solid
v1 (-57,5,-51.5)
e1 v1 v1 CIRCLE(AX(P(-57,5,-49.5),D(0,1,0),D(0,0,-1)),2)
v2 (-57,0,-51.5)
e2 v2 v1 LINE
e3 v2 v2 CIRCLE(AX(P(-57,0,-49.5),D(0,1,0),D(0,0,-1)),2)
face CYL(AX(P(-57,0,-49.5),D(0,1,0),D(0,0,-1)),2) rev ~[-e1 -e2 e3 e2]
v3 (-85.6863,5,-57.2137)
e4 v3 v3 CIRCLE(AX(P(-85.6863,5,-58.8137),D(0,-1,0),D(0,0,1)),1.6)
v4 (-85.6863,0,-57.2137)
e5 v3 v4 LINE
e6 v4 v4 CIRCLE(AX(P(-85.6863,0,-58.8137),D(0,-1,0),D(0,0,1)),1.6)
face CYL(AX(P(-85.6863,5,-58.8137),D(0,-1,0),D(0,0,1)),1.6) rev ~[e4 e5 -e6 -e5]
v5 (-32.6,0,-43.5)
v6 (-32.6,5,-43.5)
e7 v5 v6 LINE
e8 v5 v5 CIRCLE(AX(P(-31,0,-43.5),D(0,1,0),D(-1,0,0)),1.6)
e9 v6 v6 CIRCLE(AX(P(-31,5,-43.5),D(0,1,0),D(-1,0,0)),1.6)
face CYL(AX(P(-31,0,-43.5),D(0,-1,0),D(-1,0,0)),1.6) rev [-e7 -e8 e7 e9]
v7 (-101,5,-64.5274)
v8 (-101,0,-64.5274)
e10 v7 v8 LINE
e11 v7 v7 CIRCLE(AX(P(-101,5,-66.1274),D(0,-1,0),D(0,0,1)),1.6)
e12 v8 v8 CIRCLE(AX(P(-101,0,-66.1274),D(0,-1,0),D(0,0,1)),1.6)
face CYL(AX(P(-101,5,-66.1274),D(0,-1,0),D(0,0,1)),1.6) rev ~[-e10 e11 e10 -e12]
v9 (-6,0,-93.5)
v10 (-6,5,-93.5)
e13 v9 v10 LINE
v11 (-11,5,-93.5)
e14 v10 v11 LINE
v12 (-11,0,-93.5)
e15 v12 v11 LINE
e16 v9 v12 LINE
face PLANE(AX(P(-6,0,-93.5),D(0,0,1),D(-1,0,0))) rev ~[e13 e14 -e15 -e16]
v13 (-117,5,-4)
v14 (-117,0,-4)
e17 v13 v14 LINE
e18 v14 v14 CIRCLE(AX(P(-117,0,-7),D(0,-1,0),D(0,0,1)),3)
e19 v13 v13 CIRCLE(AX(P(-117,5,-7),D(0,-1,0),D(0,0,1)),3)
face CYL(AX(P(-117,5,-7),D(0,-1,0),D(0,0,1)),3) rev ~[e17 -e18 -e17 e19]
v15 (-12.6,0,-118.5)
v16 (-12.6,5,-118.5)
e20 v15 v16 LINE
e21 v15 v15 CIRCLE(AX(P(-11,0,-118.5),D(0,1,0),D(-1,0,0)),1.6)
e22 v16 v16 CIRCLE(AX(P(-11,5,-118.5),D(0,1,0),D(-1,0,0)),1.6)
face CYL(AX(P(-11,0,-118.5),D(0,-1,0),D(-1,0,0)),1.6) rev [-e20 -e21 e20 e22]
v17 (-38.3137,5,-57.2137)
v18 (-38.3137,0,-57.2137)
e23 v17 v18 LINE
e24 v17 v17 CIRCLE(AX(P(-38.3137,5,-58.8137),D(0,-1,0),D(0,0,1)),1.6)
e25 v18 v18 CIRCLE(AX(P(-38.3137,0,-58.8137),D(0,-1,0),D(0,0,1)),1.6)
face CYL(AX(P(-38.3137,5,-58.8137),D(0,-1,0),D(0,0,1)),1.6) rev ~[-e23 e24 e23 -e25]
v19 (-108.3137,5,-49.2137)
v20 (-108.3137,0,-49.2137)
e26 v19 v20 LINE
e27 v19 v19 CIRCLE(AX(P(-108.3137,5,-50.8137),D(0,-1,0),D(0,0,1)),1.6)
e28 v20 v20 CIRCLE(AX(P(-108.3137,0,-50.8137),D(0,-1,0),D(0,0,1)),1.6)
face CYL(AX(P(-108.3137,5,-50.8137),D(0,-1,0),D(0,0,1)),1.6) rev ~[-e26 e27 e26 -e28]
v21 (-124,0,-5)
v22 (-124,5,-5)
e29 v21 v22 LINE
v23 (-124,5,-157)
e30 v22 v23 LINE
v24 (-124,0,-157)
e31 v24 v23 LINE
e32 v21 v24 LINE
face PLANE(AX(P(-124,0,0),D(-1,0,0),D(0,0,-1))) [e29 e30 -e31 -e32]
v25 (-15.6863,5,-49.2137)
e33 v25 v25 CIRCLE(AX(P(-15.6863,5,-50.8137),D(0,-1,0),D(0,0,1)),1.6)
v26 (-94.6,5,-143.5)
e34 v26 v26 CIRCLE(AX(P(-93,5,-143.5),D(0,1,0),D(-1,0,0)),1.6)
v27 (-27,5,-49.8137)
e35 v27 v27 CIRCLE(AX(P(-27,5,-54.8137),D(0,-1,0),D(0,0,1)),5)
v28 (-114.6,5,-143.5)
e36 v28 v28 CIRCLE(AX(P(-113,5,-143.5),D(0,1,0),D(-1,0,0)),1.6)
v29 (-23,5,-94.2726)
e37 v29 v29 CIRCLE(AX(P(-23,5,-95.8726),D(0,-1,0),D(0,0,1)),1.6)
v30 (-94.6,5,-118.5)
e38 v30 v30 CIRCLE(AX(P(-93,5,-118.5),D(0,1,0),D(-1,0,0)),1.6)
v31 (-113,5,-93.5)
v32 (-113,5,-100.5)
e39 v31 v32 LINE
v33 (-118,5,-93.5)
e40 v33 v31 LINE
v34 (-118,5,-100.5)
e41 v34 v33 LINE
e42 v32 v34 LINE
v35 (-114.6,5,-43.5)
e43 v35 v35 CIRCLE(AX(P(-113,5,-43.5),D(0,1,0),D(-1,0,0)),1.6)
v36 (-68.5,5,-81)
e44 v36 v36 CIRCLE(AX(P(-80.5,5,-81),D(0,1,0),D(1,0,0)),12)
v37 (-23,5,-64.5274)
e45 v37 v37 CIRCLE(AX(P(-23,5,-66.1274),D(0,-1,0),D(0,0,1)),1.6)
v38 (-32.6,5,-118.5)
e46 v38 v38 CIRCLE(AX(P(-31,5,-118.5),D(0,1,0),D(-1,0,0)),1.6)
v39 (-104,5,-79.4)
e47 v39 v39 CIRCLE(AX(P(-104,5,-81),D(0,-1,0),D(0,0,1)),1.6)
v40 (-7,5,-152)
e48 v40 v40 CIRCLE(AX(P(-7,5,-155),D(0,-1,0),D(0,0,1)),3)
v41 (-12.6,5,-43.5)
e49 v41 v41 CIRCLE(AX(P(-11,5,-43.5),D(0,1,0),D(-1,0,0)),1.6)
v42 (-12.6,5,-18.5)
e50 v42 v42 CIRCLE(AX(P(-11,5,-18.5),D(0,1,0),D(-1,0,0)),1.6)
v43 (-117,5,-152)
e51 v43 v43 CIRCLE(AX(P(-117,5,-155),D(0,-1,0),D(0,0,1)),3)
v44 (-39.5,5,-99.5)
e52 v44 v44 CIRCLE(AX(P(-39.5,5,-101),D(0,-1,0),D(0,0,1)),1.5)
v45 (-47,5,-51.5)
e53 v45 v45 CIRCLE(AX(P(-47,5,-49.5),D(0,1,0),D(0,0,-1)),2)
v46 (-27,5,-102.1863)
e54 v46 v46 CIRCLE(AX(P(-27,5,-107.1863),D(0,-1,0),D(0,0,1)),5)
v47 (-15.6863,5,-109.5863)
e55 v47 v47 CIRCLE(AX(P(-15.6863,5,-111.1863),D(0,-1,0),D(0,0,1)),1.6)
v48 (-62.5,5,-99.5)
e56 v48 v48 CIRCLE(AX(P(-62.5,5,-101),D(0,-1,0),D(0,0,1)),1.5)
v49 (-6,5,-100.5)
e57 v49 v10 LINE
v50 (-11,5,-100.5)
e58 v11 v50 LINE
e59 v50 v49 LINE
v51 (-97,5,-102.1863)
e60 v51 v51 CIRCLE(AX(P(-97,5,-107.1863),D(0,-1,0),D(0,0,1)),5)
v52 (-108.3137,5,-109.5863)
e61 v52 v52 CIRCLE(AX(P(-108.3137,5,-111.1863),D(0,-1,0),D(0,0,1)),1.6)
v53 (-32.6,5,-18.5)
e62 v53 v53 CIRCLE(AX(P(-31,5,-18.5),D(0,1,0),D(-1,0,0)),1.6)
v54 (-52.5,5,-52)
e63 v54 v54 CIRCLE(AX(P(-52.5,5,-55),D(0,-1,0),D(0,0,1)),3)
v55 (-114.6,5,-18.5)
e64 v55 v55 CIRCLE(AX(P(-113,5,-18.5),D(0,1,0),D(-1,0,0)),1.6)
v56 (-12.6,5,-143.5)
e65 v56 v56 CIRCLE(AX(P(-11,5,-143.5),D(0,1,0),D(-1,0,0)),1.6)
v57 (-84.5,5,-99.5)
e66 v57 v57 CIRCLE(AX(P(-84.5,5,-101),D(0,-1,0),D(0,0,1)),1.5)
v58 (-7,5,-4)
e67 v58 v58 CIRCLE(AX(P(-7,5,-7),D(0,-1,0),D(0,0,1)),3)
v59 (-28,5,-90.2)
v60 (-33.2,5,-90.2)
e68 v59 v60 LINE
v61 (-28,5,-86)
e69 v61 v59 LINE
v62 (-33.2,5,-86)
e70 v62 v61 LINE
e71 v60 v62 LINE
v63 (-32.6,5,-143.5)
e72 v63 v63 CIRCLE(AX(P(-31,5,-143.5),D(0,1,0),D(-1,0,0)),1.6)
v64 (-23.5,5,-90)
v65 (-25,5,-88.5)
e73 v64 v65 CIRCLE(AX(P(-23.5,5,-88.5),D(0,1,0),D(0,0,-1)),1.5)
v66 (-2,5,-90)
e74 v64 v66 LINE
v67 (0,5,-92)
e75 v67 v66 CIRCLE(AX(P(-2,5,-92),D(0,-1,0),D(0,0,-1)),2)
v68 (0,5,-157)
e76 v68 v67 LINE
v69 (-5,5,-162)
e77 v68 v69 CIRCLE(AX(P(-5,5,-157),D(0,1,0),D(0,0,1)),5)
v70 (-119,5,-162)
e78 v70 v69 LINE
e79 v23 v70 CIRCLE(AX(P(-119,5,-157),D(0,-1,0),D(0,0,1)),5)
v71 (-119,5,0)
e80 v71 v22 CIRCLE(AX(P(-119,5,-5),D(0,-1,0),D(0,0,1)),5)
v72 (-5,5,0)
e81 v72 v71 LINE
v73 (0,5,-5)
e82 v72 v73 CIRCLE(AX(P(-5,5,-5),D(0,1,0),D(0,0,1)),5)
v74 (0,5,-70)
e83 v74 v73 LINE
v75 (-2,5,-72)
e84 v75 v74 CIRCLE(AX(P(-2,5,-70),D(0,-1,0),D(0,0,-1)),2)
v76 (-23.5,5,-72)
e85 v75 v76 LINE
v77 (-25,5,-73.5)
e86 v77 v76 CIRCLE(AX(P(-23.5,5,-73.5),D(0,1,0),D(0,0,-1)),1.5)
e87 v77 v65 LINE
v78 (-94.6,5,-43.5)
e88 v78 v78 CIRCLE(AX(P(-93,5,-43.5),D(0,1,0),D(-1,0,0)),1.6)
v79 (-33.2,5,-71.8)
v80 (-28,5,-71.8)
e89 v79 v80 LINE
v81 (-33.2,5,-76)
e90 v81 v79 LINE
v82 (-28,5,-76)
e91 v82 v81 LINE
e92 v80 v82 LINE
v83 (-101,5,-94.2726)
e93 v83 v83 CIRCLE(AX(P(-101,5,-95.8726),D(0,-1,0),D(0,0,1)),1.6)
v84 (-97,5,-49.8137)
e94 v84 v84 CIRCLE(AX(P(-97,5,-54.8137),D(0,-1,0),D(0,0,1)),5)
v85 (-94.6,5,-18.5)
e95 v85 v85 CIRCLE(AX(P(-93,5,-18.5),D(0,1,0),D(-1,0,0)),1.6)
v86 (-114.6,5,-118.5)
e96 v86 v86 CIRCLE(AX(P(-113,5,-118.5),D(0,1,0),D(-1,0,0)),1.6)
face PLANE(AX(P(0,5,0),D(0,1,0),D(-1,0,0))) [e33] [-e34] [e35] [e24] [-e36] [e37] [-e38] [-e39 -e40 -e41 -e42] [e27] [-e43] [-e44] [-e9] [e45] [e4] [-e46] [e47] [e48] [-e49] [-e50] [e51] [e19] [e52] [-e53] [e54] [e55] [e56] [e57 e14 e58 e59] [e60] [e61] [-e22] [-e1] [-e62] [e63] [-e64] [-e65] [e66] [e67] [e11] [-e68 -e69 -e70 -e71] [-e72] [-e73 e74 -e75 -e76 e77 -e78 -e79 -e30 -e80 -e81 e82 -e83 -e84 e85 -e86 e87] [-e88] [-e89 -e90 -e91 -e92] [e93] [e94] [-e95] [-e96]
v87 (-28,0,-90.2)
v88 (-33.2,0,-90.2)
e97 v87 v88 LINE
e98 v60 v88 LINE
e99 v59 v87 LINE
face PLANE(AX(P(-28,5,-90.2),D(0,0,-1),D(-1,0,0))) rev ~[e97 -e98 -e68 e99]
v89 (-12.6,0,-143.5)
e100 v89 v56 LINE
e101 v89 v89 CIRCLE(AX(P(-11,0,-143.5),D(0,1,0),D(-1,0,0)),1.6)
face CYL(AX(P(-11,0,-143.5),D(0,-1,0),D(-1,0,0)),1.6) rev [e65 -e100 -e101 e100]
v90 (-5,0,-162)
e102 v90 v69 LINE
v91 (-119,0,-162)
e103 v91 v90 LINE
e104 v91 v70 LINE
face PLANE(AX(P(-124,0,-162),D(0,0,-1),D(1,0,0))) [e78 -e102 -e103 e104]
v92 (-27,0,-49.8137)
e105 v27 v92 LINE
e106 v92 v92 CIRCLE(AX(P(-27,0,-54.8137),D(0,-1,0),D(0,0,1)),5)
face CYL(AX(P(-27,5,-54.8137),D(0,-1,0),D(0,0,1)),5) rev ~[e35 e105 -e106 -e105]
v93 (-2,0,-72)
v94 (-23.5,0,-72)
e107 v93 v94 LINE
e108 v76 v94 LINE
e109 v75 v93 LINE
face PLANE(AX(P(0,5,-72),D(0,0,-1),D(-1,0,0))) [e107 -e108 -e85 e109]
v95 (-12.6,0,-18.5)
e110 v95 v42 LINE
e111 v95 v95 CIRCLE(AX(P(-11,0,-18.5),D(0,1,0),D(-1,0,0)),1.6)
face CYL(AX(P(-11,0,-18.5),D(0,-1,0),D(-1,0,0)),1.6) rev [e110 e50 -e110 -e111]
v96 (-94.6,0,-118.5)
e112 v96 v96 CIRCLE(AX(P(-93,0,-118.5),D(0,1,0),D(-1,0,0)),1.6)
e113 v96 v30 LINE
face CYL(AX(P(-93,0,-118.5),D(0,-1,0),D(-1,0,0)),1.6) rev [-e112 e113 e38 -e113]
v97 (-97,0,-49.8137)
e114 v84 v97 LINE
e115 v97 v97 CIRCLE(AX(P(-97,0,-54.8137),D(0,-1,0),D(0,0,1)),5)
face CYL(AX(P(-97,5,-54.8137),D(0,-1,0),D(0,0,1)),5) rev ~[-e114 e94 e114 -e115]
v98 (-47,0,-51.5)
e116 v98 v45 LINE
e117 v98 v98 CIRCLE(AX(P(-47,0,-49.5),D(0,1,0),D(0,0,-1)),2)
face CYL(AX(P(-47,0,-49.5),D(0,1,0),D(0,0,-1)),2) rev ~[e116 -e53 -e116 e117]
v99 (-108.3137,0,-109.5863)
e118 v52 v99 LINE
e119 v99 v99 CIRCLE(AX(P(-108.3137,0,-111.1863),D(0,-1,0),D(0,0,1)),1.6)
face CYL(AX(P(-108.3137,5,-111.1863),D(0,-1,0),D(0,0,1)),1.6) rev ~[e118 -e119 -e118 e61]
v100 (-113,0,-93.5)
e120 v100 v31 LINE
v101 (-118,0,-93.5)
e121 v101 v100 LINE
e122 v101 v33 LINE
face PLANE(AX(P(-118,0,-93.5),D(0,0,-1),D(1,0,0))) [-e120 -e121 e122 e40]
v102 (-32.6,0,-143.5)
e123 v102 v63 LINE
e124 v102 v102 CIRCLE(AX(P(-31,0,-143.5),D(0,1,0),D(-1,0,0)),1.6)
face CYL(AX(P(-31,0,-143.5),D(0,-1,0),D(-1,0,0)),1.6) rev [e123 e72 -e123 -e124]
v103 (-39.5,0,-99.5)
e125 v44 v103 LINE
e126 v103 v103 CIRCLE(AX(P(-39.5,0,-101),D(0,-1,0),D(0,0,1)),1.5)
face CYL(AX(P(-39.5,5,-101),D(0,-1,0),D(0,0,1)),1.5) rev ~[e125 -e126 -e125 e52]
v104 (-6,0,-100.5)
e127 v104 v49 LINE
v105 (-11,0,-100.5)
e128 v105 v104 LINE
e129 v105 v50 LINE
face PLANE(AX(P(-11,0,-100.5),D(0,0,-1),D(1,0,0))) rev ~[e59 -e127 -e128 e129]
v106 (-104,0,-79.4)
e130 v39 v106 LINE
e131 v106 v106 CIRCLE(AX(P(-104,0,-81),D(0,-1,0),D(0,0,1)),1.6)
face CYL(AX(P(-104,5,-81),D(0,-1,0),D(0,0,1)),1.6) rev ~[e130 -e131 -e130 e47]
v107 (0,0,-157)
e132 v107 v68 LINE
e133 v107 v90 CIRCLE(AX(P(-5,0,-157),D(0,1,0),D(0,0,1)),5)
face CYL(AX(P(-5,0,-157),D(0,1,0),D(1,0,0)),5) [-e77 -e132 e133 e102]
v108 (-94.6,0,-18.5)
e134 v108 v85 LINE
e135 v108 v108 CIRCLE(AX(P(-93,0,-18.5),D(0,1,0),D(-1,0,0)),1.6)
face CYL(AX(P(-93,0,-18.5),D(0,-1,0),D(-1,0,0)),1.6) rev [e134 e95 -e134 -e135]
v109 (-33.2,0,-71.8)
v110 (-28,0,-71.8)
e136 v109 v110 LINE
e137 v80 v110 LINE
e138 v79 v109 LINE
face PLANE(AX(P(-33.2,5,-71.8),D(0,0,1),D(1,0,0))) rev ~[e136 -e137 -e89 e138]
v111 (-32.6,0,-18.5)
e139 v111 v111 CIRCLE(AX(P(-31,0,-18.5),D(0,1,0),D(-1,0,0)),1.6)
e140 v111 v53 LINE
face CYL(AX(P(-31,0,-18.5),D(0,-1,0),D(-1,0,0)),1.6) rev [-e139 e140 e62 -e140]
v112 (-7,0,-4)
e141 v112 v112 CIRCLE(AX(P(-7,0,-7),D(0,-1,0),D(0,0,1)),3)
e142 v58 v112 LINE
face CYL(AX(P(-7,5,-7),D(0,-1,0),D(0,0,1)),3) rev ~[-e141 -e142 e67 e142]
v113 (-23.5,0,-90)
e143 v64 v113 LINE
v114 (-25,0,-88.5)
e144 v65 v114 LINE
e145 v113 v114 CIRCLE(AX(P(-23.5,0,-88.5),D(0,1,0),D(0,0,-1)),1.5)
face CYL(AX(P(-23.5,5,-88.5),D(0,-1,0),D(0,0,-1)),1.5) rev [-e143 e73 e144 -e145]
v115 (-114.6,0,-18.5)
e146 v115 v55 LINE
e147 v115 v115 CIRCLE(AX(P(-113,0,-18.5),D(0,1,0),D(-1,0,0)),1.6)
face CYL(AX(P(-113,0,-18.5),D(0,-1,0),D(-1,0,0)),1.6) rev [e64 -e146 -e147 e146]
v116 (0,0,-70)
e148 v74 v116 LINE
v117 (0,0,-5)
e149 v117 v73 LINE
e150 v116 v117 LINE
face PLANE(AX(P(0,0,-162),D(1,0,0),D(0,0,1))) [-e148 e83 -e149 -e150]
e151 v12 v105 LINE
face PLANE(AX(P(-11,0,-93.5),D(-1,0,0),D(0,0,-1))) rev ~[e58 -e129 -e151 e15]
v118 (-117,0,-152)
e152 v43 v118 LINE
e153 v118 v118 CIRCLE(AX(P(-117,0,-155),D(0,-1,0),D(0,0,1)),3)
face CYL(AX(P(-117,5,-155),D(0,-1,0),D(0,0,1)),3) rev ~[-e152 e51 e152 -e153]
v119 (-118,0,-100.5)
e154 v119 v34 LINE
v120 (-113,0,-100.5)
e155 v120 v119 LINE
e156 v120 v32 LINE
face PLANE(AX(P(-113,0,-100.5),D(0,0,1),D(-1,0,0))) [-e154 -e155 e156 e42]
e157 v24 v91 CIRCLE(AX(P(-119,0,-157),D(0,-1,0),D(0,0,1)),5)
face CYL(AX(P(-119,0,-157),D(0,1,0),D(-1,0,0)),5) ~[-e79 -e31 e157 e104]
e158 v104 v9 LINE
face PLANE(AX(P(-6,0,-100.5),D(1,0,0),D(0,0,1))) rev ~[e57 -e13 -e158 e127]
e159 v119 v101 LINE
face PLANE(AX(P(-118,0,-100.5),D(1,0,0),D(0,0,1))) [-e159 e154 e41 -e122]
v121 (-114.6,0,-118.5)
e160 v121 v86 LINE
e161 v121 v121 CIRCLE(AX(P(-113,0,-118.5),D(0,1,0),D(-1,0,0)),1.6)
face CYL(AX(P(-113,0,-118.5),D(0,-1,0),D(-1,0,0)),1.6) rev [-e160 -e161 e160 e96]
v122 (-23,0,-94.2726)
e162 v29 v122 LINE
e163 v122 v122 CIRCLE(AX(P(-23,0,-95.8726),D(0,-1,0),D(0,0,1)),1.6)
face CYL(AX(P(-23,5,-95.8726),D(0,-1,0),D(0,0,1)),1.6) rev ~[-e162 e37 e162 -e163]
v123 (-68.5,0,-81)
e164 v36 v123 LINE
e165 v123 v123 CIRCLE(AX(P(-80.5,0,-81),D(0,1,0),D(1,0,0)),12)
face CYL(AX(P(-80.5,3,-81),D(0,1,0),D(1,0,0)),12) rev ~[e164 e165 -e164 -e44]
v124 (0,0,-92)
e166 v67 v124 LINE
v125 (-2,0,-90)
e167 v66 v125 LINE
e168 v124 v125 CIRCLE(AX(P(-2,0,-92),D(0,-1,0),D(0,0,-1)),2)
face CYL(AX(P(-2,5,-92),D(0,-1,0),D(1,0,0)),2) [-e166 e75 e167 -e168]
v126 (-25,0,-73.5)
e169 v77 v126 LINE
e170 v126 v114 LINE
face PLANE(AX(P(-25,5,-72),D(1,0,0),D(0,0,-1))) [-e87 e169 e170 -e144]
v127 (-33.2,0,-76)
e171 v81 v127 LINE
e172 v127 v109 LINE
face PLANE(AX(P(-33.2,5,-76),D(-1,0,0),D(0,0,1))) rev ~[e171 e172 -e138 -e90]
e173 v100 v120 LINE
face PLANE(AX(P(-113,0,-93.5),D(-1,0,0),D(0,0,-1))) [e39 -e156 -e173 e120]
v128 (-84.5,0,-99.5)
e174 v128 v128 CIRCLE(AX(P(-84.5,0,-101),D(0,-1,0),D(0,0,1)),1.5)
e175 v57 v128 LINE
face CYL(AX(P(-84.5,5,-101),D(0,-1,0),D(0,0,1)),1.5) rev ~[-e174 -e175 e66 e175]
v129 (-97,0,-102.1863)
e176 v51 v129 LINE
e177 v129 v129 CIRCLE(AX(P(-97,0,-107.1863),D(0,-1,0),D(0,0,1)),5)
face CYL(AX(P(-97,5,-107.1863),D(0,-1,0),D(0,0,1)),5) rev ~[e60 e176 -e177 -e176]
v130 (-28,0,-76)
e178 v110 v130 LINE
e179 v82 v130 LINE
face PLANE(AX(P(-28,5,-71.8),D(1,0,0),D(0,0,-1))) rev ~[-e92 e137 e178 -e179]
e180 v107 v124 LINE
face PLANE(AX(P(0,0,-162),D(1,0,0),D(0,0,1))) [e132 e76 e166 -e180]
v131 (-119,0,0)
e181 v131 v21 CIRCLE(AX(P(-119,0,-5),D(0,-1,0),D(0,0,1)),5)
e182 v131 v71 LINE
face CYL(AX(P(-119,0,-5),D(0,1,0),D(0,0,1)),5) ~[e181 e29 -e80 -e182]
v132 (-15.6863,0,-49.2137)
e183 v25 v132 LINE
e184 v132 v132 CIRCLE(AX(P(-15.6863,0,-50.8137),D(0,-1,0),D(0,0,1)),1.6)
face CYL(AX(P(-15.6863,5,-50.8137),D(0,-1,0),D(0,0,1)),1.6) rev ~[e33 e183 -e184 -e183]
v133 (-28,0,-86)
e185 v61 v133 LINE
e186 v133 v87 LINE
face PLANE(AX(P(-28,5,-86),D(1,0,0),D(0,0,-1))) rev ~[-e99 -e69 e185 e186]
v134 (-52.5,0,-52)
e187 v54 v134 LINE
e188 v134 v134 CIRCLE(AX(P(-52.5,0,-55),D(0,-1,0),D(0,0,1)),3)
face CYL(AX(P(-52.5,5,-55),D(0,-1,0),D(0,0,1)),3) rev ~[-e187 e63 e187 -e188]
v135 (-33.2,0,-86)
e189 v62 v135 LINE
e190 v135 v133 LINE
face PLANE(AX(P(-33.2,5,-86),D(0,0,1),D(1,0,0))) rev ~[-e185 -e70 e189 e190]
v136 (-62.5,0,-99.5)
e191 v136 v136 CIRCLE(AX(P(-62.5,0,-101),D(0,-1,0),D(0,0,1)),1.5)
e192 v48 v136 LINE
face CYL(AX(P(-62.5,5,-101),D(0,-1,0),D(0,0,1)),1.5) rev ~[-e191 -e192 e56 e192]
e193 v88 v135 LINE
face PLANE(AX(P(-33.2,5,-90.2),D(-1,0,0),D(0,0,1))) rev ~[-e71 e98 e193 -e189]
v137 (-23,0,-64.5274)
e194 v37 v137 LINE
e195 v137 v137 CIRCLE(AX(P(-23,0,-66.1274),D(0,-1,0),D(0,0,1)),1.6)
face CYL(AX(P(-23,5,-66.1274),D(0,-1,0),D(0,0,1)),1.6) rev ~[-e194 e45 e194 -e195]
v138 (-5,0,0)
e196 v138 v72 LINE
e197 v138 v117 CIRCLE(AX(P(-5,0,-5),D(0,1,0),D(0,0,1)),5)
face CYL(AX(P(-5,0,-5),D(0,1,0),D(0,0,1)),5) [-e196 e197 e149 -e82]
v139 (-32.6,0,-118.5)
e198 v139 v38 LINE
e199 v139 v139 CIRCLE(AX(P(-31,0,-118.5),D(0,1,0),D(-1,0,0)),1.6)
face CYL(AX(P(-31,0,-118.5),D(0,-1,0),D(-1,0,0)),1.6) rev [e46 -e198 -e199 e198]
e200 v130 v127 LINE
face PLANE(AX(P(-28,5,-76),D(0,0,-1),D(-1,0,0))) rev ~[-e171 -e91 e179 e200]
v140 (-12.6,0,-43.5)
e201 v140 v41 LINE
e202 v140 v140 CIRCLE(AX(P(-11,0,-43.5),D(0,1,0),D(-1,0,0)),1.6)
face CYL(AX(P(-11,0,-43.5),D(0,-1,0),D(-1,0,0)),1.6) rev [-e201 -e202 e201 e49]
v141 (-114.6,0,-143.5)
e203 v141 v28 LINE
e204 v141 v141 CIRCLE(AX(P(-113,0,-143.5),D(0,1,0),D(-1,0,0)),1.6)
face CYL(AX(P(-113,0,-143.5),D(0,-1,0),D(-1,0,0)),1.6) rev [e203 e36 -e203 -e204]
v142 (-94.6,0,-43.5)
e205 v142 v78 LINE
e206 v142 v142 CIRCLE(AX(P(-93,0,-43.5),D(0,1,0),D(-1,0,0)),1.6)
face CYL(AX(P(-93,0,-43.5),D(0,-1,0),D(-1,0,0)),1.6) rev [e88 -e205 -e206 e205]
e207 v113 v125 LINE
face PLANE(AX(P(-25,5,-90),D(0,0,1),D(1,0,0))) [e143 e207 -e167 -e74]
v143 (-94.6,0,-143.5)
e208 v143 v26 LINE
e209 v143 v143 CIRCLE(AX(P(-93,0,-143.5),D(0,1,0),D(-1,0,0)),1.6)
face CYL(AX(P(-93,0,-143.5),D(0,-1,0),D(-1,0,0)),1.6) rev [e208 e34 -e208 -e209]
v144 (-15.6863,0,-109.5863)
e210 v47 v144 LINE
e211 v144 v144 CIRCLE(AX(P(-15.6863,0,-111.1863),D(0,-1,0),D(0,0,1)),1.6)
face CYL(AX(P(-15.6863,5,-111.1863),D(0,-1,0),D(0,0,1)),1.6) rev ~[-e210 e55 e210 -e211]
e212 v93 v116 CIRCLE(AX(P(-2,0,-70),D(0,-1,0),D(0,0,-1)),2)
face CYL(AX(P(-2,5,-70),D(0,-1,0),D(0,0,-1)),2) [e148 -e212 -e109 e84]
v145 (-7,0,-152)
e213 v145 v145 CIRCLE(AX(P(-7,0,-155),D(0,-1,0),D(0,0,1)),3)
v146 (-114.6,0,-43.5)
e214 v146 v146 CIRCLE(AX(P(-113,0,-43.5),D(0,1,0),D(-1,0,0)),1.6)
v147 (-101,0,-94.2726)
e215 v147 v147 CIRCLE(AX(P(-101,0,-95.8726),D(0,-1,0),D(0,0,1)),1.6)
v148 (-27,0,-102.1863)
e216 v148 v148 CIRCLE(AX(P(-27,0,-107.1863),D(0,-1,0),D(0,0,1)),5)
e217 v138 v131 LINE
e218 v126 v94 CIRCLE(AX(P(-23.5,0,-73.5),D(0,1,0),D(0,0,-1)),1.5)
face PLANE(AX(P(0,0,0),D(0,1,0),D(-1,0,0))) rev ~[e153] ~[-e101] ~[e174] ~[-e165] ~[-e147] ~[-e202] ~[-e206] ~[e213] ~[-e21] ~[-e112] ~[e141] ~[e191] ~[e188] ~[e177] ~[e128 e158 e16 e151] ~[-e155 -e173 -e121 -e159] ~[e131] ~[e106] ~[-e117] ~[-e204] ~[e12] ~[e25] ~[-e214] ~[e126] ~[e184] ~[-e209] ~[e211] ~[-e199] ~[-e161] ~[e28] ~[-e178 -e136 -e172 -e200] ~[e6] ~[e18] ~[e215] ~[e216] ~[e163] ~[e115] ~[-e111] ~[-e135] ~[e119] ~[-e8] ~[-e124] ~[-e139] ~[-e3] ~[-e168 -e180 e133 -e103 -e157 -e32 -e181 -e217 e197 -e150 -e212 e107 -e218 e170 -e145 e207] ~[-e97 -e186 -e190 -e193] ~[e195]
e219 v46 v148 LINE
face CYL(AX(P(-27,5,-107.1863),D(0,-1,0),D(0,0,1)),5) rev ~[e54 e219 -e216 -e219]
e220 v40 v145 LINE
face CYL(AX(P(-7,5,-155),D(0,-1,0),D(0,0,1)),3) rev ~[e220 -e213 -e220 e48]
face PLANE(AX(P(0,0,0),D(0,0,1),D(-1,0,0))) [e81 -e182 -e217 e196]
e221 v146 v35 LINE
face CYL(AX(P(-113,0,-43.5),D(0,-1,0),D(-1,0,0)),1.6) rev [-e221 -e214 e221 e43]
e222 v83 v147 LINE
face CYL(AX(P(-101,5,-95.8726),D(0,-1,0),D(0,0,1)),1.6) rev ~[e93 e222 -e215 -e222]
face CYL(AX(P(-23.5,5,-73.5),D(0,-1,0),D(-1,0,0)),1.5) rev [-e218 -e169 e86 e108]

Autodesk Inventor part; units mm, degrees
ref_plane "YZ Plane" through (0, 0, 0) normal (1, 0, 0) x (0, 1, 0)
ref_plane "XZ Plane" through (0, 0, 0) normal (0, 1, 0) x (-1, 0, 0)
ref_plane "XY Plane" through (0, 0, 0) normal (0, 0, 1) x (1, 0, 0)
sketch "Sketch1" plane through (0, 0, 0) normal (0, 1, 0) x (-1, 0, 0)
  line L0 (0, 0) -> (124, 0)
  line L1 (124, 0) -> (124, -162)
  line L2 (124, -162) -> (0, -162)
  line L3 (0, -162) -> (0, 0)
  line L4 (117.9854, -81) -> (-11.1436, -81) construction
  line L5 (62, -11.2083) -> (62, -206.7638) construction
  circle A0 centre (113, -18.5) radius 1.6
  circle A1 centre (113, -43.5) radius 1.6
  circle A2 centre (93, -18.5) radius 1.6
  circle A3 centre (93, -43.5) radius 1.6
  circle A4 centre (113, -143.5) radius 1.6
  circle A5 centre (113, -118.5) radius 1.6
  circle A6 centre (93, -143.5) radius 1.6
  circle A7 centre (93, -118.5) radius 1.6
  circle A8 centre (11, -18.5) radius 1.6
  circle A9 centre (11, -43.5) radius 1.6
  circle A10 centre (31, -18.5) radius 1.6
  circle A11 centre (31, -43.5) radius 1.6
  circle A12 centre (11, -118.5) radius 1.6
  circle A13 centre (31, -143.5) radius 1.6
  circle A14 centre (11, -143.5) radius 1.6
  circle A15 centre (31, -118.5) radius 1.6
  line L6 (118, -93.5) -> (113, -93.5)
  line L7 (113, -93.5) -> (113, -100.5)
  line L8 (113, -100.5) -> (118, -100.5)
  line L9 (118, -100.5) -> (118, -93.5)
  line L10 (6, -93.5) -> (11, -93.5)
  line L11 (11, -93.5) -> (11, -100.5)
  line L12 (11, -100.5) -> (6, -100.5)
  line L13 (6, -100.5) -> (6, -93.5)
  circle A16 centre (7.5, -7.5) radius 2.8374
  circle A17 centre (37.5, -7.5) radius 2.5792
  circle A18 centre (7.5, -107.5) radius 2.9237
  circle A19 centre (37.5, -107.5) radius 2.6656
  dimension "d0" = 162
  dimension "d1" = 124
  dimension "d2" = 81
  dimension "d3" = 62
  dimension "d4" = 3.2
  dimension "d8" = 25
  dimension "d9" = 25
  dimension "d10" = 18.5
  dimension "d11" = 18.5
  dimension "d12" = 20
  dimension "d13" = 20
  dimension "d14" = 11
  dimension "d15" = 11
  dimension "d21" = 61.5
  dimension "d22" = 7
  dimension "d23" = 5
  dimension "d24" = 6
  dimension "d26" = 7.5
  dimension "d27" = 7.5
  dimension "d28" = 37.5
  dimension "d29" = 7.5
  dimension "d30" = 37.5
  dimension "d31" = 7.5
  dimension "d32" = 107.5
  dimension "d33" = 107.5
extrude "Extrusion1" add sketch "Sketch1" along normal blind 5 contours L0 L1 L2 L3 | A16 | A17 | A18 | A19
fillet "Fillet2" radius 5 4 edges at (0, 2.5, 0) (0, 2.5, -162) (-124, 2.5, -162) (-124, 2.5, 0)
sketch "Sketch3" plane through (0, 5, 0) normal (0, 1, 0) x (1, 0, 0)
  circle A0 centre (-93, 43.5) radius 1.8241
  line L0 (0, 5) -> (0, 157) projected
  circle A1 centre (-97, 54.8137) radius 5.6411
  circle A2 centre (-97, 54.8137) radius 16
  line L1 (-112.1751, 81) -> (15.1489, 81) construction
  line L2 (-119, 0) -> (-5, 0) projected
  circle A3 centre (-93, 118.5) radius 3.1
  circle A4 centre (-93, 118.5) radius 1.8241
  circle A5 centre (-97, 107.1863) radius 5.6411
  circle A6 centre (-97, 107.1863) radius 16
  circle A7 centre (-85.6863, 58.8137) radius 1.8241
  circle A8 centre (-101, 66.1274) radius 1.8241
  circle A9 centre (-108.3137, 50.8137) radius 1.8241
  circle A10 centre (-97, 54.8137) radius 5.6411
  circle A11 centre (-101, 95.8726) radius 1.8241
  circle A12 centre (-108.3137, 111.1863) radius 1.8241
  line L3 (-124, 157) -> (-124, 5) projected
  line L4 (-62, -8.3299) -> (-62, 205.5694) construction
  circle A13 centre (-31, 43.5) radius 3.1
  circle A14 centre (-31, 43.5) radius 1.8241
  circle A15 centre (-27, 54.8137) radius 5.6411
  circle A16 centre (-27, 54.8137) radius 16
  circle A17 centre (-31, 118.5) radius 3.1
  circle A18 centre (-31, 118.5) radius 1.8241
  circle A19 centre (-27, 107.1863) radius 5.6411
  circle A20 centre (-27, 107.1863) radius 16
  circle A21 centre (-38.3137, 58.8137) radius 1.8241
  circle A22 centre (-23, 66.1274) radius 1.8241
  circle A23 centre (-15.6863, 50.8137) radius 1.8241
  circle A24 centre (-27, 54.8137) radius 5.6411
  circle A25 centre (-15.6863, 111.1863) radius 1.8241
  circle A26 centre (-23, 95.8726) radius 1.8241
  circle A27 centre (-93, 43.5) radius 1.6 projected
  point P0 (0, 0)
  dimension "d57" = 12
  dimension "d59" = 32
  dimension "d60" = 81
  dimension "d63" = 360
  dimension "d66" = 62
  dimension "d89" = 124
  dimension "d200" = 0
  dimension "d201" = 0
  dimension "d202" = 70
hole "Hole1" at (-108.3137, 5, -50.8137) at (-101, 5, -66.1274) at (-85.6863, 5, -58.8137) at (-108.3137, 5, -111.1863) at (-101, 5, -95.8726) at (-23, 5, -95.8726) at (-15.6863, 5, -111.1863) at (-38.3137, 5, -58.8137) at (-23, 5, -66.1274) at (-15.6863, 5, -50.8137) direction (0, -1, 0) diameter 3.2 end through all
sketch "Sketch4" plane through (0, 5, 0) normal (0, 1, 0) x (1, 0, 0)
  circle A0 centre (-97, 54.8137) radius 4
  circle A1 centre (-97, 107.1863) radius 4
  circle A2 centre (-27, 107.1863) radius 4 projected
  circle A3 centre (-27, 54.8137) radius 4 projected
  point P0 (0, 0)
  dimension "d203" = 70
hole "Hole2" at (-97, 5, -54.8137) at (-97, 5, -107.1863) at (-27, 5, -107.1863) at (-27, 5, -54.8137) direction (0, -1, 0) diameter 10 end through all
sketch "Sketch5" plane through (0, 5, 0) normal (0, 1, 0) x (1, 0, 0)
  circle A0 centre (-80.5, 81) radius 12
  line L0 (0, 5) -> (0, 157) projected
  line L1 (-119, 0) -> (-5, 0) projected
  circle A1 centre (-80.5, 81) radius 12 construction
  point P0 (0, 0)
  dimension "d81" = 24
  dimension "d82" = 80.5
  dimension "d83" = 81
  dimension "d90" = 24
extrude "Extrusion3" cut sketch "Sketch5" against normal blind 2
sketch "Sketch6" plane through (-80.5, 3, -81) normal (0, 1, 0) x (1, 0, 0)
  circle A0 centre (0, 0) radius 12
  point P0 (80.5, -81)
  dimension "d86" = 24
extrude "Extrusion4" cut sketch "Sketch6" against normal blind 24
sketch "Sketch7" plane through (0, 5, 0) normal (0, 1, 0) x (1, 0, 0)
  circle A0 centre (-84.5, 101) radius 1.5
  line L0 (-124, 157) -> (-124, 5) projected
  circle A1 centre (-62.5, 101) radius 1.5
  circle A2 centre (-39.5, 101) radius 1.5
  line L1 (-5, 162) -> (-119, 162) projected
  point P0 (0, 0)
  point P1 (-92.5, 103)
  point P2 (-47.5, 103)
  point P3 (-70.5, 103)
  dimension "d190" = 3
  dimension "d191" = 39.5
  dimension "d192" = 3
  dimension "d193" = 3
  dimension "d194" = 84.5
  dimension "d195" = 61.5
  dimension "d196" = 61
hole "Hole3" at (-84.5, 5, -101) at (-62.5, 5, -101) at (-39.5, 5, -101) direction (0, -1, 0) diameter 3 end through all
sketch "Sketch8" plane through (0, 5, 0) normal (0, 1, 0) x (1, 0, 0)
  line L0 (-147.8175, 81) -> (38.0677, 81) construction
  line L1 (-62, -18.8902) -> (-62, 202.7642) construction
  line L2 (-5, 162) -> (-119, 162) projected
  line L3 (-119, 0) -> (-5, 0) projected
  line L4 (0, 5) -> (0, 157) projected
  line L5 (-124, 157) -> (-124, 5) projected
  circle A0 centre (-7, 7) radius 3
  circle A1 centre (-7, 155) radius 3
  circle A2 centre (-117, 7) radius 3
  circle A3 centre (-117, 155) radius 3
  point P0 (0, 0)
  dimension "d104" = 162
  dimension "d105" = 124
  dimension "d106" = 62
  dimension "d107" = 81
  dimension "d108" = 6
  dimension "d109" = 7
  dimension "d110" = 7
hole "Hole4" at (-7, 5, -7) at (-117, 5, -7) at (-117, 5, -155) at (-7, 5, -155) direction (0, -1, 0) diameter 6 end through all
sketch "Sketch10" plane through (0, 5, 0) normal (0, 1, 0) x (1, 0, 0)
  line L0 (0, 5) -> (0, 157) projected
  line L1 (0, 72) -> (-25, 72)
  line L2 (-25, 72) -> (-25, 90)
  line L3 (-25, 90) -> (0, 90)
  line L4 (0, 90) -> (0, 72)
  line L5 (-119, 0) -> (-5, 0) projected
  line L6 (-33.2, 71.8) -> (-28, 71.8)
  line L7 (-28, 71.8) -> (-28, 76)
  line L8 (-28, 76) -> (-33.2, 76)
  line L9 (-33.2, 76) -> (-33.2, 71.8)
  line L10 (-33.2, 86) -> (-28, 86)
  line L11 (-28, 86) -> (-28, 90.2)
  line L12 (-28, 90.2) -> (-33.2, 90.2)
  line L13 (-33.2, 90.2) -> (-33.2, 86)
  point P0 (0, 0)
  point P1 (0, 90)
  dimension "d128" = 18
  dimension "d129" = 72
  dimension "d130" = 25
  dimension "d184" = 4.2
  dimension "d185" = 5.2
  dimension "d186" = 4.2
  dimension "d187" = 18.4
  dimension "d188" = 0.2
  dimension "d189" = 3
extrude "Extrusion5" cut sketch "Sketch10" against normal blind 10
fillet "Fillet4" radius 2 2 edges at (0, 2.5, -90) (0, 2.5, -72)
sketch "Sketch12" plane through (0, 0, 0) normal (0, -1, 0) x (1, 0, 0)
  circle A0 centre (-47, -49.5) radius 2
  circle A1 centre (-57, -49.5) radius 2
  line L0 (-119, 0) -> (-5, 0) projected
  line L1 (-40, -51) -> (-40, -46) projected
  circle A2 centre (-47, -49.5) radius 1.2295 projected
  circle A3 centre (-47, -49.5) radius 1.2295 projected
  circle A4 centre (-47, -49.5) radius 1.2295 projected
  circle A5 centre (-57, -49.5) radius 1.2295 projected
  point P0 (0, 0)
  dimension "d142" = 4
  dimension "d144" = 4
hole "Hole7" at (-47, 0, -49.5) at (-57, 0, -49.5) direction (0, 1, 0) diameter 4 depth 20 tip angle 118
sketch "Sketch13" plane through (0, 5, 0) normal (0, 1, 0) x (1, 0, 0)
  circle A0 centre (-104, 81) radius 1.5
  line L0 (-124, 157) -> (-124, 5) projected
  line L1 (-119, 0) -> (-5, 0) projected
  point P0 (0, 0)
  dimension "d154" = 3
  dimension "d155" = 20
  dimension "d156" = 81
hole "Hole8" at (-104, 5, -81) direction (0, -1, 0) diameter 3.2 depth 20 tip angle 118
sketch "Sketch14" plane through (0, 5, 0) normal (0, 1, 0) x (1, 0, 0)
  circle A0 centre (-52.5, 55) radius 3
  line L0 (-119, 0) -> (-5, 0) projected
  line L1 (0, 5) -> (0, 70) projected
  point P0 (0, 0)
  dimension "d164" = 55
  dimension "d165" = 52.5
  dimension "d166" = 6
hole "Hole9" at (-52.5, 5, -55) direction (0, -1, 0) diameter 6 depth 20 tip angle 118
fillet "Fillet6" radius 1.5 2 edges at (-25, 2.5, -72) (-25, 2.5, -90)
equation "\"d2\" = 0.5 * d0"
equation "\"d3\" = 0.5 * d1"
equation "\"d66\" = 0.5 * d89"
equation "\"d106\" = 0.5 * d105"
equation "\"d107\" = 0.5 * d104"
equation "\"d147\" = d144"
equation "\"d167\" = d166"
properties part number "x-Axis_plate_bottom_t" material "PET Plastic"
